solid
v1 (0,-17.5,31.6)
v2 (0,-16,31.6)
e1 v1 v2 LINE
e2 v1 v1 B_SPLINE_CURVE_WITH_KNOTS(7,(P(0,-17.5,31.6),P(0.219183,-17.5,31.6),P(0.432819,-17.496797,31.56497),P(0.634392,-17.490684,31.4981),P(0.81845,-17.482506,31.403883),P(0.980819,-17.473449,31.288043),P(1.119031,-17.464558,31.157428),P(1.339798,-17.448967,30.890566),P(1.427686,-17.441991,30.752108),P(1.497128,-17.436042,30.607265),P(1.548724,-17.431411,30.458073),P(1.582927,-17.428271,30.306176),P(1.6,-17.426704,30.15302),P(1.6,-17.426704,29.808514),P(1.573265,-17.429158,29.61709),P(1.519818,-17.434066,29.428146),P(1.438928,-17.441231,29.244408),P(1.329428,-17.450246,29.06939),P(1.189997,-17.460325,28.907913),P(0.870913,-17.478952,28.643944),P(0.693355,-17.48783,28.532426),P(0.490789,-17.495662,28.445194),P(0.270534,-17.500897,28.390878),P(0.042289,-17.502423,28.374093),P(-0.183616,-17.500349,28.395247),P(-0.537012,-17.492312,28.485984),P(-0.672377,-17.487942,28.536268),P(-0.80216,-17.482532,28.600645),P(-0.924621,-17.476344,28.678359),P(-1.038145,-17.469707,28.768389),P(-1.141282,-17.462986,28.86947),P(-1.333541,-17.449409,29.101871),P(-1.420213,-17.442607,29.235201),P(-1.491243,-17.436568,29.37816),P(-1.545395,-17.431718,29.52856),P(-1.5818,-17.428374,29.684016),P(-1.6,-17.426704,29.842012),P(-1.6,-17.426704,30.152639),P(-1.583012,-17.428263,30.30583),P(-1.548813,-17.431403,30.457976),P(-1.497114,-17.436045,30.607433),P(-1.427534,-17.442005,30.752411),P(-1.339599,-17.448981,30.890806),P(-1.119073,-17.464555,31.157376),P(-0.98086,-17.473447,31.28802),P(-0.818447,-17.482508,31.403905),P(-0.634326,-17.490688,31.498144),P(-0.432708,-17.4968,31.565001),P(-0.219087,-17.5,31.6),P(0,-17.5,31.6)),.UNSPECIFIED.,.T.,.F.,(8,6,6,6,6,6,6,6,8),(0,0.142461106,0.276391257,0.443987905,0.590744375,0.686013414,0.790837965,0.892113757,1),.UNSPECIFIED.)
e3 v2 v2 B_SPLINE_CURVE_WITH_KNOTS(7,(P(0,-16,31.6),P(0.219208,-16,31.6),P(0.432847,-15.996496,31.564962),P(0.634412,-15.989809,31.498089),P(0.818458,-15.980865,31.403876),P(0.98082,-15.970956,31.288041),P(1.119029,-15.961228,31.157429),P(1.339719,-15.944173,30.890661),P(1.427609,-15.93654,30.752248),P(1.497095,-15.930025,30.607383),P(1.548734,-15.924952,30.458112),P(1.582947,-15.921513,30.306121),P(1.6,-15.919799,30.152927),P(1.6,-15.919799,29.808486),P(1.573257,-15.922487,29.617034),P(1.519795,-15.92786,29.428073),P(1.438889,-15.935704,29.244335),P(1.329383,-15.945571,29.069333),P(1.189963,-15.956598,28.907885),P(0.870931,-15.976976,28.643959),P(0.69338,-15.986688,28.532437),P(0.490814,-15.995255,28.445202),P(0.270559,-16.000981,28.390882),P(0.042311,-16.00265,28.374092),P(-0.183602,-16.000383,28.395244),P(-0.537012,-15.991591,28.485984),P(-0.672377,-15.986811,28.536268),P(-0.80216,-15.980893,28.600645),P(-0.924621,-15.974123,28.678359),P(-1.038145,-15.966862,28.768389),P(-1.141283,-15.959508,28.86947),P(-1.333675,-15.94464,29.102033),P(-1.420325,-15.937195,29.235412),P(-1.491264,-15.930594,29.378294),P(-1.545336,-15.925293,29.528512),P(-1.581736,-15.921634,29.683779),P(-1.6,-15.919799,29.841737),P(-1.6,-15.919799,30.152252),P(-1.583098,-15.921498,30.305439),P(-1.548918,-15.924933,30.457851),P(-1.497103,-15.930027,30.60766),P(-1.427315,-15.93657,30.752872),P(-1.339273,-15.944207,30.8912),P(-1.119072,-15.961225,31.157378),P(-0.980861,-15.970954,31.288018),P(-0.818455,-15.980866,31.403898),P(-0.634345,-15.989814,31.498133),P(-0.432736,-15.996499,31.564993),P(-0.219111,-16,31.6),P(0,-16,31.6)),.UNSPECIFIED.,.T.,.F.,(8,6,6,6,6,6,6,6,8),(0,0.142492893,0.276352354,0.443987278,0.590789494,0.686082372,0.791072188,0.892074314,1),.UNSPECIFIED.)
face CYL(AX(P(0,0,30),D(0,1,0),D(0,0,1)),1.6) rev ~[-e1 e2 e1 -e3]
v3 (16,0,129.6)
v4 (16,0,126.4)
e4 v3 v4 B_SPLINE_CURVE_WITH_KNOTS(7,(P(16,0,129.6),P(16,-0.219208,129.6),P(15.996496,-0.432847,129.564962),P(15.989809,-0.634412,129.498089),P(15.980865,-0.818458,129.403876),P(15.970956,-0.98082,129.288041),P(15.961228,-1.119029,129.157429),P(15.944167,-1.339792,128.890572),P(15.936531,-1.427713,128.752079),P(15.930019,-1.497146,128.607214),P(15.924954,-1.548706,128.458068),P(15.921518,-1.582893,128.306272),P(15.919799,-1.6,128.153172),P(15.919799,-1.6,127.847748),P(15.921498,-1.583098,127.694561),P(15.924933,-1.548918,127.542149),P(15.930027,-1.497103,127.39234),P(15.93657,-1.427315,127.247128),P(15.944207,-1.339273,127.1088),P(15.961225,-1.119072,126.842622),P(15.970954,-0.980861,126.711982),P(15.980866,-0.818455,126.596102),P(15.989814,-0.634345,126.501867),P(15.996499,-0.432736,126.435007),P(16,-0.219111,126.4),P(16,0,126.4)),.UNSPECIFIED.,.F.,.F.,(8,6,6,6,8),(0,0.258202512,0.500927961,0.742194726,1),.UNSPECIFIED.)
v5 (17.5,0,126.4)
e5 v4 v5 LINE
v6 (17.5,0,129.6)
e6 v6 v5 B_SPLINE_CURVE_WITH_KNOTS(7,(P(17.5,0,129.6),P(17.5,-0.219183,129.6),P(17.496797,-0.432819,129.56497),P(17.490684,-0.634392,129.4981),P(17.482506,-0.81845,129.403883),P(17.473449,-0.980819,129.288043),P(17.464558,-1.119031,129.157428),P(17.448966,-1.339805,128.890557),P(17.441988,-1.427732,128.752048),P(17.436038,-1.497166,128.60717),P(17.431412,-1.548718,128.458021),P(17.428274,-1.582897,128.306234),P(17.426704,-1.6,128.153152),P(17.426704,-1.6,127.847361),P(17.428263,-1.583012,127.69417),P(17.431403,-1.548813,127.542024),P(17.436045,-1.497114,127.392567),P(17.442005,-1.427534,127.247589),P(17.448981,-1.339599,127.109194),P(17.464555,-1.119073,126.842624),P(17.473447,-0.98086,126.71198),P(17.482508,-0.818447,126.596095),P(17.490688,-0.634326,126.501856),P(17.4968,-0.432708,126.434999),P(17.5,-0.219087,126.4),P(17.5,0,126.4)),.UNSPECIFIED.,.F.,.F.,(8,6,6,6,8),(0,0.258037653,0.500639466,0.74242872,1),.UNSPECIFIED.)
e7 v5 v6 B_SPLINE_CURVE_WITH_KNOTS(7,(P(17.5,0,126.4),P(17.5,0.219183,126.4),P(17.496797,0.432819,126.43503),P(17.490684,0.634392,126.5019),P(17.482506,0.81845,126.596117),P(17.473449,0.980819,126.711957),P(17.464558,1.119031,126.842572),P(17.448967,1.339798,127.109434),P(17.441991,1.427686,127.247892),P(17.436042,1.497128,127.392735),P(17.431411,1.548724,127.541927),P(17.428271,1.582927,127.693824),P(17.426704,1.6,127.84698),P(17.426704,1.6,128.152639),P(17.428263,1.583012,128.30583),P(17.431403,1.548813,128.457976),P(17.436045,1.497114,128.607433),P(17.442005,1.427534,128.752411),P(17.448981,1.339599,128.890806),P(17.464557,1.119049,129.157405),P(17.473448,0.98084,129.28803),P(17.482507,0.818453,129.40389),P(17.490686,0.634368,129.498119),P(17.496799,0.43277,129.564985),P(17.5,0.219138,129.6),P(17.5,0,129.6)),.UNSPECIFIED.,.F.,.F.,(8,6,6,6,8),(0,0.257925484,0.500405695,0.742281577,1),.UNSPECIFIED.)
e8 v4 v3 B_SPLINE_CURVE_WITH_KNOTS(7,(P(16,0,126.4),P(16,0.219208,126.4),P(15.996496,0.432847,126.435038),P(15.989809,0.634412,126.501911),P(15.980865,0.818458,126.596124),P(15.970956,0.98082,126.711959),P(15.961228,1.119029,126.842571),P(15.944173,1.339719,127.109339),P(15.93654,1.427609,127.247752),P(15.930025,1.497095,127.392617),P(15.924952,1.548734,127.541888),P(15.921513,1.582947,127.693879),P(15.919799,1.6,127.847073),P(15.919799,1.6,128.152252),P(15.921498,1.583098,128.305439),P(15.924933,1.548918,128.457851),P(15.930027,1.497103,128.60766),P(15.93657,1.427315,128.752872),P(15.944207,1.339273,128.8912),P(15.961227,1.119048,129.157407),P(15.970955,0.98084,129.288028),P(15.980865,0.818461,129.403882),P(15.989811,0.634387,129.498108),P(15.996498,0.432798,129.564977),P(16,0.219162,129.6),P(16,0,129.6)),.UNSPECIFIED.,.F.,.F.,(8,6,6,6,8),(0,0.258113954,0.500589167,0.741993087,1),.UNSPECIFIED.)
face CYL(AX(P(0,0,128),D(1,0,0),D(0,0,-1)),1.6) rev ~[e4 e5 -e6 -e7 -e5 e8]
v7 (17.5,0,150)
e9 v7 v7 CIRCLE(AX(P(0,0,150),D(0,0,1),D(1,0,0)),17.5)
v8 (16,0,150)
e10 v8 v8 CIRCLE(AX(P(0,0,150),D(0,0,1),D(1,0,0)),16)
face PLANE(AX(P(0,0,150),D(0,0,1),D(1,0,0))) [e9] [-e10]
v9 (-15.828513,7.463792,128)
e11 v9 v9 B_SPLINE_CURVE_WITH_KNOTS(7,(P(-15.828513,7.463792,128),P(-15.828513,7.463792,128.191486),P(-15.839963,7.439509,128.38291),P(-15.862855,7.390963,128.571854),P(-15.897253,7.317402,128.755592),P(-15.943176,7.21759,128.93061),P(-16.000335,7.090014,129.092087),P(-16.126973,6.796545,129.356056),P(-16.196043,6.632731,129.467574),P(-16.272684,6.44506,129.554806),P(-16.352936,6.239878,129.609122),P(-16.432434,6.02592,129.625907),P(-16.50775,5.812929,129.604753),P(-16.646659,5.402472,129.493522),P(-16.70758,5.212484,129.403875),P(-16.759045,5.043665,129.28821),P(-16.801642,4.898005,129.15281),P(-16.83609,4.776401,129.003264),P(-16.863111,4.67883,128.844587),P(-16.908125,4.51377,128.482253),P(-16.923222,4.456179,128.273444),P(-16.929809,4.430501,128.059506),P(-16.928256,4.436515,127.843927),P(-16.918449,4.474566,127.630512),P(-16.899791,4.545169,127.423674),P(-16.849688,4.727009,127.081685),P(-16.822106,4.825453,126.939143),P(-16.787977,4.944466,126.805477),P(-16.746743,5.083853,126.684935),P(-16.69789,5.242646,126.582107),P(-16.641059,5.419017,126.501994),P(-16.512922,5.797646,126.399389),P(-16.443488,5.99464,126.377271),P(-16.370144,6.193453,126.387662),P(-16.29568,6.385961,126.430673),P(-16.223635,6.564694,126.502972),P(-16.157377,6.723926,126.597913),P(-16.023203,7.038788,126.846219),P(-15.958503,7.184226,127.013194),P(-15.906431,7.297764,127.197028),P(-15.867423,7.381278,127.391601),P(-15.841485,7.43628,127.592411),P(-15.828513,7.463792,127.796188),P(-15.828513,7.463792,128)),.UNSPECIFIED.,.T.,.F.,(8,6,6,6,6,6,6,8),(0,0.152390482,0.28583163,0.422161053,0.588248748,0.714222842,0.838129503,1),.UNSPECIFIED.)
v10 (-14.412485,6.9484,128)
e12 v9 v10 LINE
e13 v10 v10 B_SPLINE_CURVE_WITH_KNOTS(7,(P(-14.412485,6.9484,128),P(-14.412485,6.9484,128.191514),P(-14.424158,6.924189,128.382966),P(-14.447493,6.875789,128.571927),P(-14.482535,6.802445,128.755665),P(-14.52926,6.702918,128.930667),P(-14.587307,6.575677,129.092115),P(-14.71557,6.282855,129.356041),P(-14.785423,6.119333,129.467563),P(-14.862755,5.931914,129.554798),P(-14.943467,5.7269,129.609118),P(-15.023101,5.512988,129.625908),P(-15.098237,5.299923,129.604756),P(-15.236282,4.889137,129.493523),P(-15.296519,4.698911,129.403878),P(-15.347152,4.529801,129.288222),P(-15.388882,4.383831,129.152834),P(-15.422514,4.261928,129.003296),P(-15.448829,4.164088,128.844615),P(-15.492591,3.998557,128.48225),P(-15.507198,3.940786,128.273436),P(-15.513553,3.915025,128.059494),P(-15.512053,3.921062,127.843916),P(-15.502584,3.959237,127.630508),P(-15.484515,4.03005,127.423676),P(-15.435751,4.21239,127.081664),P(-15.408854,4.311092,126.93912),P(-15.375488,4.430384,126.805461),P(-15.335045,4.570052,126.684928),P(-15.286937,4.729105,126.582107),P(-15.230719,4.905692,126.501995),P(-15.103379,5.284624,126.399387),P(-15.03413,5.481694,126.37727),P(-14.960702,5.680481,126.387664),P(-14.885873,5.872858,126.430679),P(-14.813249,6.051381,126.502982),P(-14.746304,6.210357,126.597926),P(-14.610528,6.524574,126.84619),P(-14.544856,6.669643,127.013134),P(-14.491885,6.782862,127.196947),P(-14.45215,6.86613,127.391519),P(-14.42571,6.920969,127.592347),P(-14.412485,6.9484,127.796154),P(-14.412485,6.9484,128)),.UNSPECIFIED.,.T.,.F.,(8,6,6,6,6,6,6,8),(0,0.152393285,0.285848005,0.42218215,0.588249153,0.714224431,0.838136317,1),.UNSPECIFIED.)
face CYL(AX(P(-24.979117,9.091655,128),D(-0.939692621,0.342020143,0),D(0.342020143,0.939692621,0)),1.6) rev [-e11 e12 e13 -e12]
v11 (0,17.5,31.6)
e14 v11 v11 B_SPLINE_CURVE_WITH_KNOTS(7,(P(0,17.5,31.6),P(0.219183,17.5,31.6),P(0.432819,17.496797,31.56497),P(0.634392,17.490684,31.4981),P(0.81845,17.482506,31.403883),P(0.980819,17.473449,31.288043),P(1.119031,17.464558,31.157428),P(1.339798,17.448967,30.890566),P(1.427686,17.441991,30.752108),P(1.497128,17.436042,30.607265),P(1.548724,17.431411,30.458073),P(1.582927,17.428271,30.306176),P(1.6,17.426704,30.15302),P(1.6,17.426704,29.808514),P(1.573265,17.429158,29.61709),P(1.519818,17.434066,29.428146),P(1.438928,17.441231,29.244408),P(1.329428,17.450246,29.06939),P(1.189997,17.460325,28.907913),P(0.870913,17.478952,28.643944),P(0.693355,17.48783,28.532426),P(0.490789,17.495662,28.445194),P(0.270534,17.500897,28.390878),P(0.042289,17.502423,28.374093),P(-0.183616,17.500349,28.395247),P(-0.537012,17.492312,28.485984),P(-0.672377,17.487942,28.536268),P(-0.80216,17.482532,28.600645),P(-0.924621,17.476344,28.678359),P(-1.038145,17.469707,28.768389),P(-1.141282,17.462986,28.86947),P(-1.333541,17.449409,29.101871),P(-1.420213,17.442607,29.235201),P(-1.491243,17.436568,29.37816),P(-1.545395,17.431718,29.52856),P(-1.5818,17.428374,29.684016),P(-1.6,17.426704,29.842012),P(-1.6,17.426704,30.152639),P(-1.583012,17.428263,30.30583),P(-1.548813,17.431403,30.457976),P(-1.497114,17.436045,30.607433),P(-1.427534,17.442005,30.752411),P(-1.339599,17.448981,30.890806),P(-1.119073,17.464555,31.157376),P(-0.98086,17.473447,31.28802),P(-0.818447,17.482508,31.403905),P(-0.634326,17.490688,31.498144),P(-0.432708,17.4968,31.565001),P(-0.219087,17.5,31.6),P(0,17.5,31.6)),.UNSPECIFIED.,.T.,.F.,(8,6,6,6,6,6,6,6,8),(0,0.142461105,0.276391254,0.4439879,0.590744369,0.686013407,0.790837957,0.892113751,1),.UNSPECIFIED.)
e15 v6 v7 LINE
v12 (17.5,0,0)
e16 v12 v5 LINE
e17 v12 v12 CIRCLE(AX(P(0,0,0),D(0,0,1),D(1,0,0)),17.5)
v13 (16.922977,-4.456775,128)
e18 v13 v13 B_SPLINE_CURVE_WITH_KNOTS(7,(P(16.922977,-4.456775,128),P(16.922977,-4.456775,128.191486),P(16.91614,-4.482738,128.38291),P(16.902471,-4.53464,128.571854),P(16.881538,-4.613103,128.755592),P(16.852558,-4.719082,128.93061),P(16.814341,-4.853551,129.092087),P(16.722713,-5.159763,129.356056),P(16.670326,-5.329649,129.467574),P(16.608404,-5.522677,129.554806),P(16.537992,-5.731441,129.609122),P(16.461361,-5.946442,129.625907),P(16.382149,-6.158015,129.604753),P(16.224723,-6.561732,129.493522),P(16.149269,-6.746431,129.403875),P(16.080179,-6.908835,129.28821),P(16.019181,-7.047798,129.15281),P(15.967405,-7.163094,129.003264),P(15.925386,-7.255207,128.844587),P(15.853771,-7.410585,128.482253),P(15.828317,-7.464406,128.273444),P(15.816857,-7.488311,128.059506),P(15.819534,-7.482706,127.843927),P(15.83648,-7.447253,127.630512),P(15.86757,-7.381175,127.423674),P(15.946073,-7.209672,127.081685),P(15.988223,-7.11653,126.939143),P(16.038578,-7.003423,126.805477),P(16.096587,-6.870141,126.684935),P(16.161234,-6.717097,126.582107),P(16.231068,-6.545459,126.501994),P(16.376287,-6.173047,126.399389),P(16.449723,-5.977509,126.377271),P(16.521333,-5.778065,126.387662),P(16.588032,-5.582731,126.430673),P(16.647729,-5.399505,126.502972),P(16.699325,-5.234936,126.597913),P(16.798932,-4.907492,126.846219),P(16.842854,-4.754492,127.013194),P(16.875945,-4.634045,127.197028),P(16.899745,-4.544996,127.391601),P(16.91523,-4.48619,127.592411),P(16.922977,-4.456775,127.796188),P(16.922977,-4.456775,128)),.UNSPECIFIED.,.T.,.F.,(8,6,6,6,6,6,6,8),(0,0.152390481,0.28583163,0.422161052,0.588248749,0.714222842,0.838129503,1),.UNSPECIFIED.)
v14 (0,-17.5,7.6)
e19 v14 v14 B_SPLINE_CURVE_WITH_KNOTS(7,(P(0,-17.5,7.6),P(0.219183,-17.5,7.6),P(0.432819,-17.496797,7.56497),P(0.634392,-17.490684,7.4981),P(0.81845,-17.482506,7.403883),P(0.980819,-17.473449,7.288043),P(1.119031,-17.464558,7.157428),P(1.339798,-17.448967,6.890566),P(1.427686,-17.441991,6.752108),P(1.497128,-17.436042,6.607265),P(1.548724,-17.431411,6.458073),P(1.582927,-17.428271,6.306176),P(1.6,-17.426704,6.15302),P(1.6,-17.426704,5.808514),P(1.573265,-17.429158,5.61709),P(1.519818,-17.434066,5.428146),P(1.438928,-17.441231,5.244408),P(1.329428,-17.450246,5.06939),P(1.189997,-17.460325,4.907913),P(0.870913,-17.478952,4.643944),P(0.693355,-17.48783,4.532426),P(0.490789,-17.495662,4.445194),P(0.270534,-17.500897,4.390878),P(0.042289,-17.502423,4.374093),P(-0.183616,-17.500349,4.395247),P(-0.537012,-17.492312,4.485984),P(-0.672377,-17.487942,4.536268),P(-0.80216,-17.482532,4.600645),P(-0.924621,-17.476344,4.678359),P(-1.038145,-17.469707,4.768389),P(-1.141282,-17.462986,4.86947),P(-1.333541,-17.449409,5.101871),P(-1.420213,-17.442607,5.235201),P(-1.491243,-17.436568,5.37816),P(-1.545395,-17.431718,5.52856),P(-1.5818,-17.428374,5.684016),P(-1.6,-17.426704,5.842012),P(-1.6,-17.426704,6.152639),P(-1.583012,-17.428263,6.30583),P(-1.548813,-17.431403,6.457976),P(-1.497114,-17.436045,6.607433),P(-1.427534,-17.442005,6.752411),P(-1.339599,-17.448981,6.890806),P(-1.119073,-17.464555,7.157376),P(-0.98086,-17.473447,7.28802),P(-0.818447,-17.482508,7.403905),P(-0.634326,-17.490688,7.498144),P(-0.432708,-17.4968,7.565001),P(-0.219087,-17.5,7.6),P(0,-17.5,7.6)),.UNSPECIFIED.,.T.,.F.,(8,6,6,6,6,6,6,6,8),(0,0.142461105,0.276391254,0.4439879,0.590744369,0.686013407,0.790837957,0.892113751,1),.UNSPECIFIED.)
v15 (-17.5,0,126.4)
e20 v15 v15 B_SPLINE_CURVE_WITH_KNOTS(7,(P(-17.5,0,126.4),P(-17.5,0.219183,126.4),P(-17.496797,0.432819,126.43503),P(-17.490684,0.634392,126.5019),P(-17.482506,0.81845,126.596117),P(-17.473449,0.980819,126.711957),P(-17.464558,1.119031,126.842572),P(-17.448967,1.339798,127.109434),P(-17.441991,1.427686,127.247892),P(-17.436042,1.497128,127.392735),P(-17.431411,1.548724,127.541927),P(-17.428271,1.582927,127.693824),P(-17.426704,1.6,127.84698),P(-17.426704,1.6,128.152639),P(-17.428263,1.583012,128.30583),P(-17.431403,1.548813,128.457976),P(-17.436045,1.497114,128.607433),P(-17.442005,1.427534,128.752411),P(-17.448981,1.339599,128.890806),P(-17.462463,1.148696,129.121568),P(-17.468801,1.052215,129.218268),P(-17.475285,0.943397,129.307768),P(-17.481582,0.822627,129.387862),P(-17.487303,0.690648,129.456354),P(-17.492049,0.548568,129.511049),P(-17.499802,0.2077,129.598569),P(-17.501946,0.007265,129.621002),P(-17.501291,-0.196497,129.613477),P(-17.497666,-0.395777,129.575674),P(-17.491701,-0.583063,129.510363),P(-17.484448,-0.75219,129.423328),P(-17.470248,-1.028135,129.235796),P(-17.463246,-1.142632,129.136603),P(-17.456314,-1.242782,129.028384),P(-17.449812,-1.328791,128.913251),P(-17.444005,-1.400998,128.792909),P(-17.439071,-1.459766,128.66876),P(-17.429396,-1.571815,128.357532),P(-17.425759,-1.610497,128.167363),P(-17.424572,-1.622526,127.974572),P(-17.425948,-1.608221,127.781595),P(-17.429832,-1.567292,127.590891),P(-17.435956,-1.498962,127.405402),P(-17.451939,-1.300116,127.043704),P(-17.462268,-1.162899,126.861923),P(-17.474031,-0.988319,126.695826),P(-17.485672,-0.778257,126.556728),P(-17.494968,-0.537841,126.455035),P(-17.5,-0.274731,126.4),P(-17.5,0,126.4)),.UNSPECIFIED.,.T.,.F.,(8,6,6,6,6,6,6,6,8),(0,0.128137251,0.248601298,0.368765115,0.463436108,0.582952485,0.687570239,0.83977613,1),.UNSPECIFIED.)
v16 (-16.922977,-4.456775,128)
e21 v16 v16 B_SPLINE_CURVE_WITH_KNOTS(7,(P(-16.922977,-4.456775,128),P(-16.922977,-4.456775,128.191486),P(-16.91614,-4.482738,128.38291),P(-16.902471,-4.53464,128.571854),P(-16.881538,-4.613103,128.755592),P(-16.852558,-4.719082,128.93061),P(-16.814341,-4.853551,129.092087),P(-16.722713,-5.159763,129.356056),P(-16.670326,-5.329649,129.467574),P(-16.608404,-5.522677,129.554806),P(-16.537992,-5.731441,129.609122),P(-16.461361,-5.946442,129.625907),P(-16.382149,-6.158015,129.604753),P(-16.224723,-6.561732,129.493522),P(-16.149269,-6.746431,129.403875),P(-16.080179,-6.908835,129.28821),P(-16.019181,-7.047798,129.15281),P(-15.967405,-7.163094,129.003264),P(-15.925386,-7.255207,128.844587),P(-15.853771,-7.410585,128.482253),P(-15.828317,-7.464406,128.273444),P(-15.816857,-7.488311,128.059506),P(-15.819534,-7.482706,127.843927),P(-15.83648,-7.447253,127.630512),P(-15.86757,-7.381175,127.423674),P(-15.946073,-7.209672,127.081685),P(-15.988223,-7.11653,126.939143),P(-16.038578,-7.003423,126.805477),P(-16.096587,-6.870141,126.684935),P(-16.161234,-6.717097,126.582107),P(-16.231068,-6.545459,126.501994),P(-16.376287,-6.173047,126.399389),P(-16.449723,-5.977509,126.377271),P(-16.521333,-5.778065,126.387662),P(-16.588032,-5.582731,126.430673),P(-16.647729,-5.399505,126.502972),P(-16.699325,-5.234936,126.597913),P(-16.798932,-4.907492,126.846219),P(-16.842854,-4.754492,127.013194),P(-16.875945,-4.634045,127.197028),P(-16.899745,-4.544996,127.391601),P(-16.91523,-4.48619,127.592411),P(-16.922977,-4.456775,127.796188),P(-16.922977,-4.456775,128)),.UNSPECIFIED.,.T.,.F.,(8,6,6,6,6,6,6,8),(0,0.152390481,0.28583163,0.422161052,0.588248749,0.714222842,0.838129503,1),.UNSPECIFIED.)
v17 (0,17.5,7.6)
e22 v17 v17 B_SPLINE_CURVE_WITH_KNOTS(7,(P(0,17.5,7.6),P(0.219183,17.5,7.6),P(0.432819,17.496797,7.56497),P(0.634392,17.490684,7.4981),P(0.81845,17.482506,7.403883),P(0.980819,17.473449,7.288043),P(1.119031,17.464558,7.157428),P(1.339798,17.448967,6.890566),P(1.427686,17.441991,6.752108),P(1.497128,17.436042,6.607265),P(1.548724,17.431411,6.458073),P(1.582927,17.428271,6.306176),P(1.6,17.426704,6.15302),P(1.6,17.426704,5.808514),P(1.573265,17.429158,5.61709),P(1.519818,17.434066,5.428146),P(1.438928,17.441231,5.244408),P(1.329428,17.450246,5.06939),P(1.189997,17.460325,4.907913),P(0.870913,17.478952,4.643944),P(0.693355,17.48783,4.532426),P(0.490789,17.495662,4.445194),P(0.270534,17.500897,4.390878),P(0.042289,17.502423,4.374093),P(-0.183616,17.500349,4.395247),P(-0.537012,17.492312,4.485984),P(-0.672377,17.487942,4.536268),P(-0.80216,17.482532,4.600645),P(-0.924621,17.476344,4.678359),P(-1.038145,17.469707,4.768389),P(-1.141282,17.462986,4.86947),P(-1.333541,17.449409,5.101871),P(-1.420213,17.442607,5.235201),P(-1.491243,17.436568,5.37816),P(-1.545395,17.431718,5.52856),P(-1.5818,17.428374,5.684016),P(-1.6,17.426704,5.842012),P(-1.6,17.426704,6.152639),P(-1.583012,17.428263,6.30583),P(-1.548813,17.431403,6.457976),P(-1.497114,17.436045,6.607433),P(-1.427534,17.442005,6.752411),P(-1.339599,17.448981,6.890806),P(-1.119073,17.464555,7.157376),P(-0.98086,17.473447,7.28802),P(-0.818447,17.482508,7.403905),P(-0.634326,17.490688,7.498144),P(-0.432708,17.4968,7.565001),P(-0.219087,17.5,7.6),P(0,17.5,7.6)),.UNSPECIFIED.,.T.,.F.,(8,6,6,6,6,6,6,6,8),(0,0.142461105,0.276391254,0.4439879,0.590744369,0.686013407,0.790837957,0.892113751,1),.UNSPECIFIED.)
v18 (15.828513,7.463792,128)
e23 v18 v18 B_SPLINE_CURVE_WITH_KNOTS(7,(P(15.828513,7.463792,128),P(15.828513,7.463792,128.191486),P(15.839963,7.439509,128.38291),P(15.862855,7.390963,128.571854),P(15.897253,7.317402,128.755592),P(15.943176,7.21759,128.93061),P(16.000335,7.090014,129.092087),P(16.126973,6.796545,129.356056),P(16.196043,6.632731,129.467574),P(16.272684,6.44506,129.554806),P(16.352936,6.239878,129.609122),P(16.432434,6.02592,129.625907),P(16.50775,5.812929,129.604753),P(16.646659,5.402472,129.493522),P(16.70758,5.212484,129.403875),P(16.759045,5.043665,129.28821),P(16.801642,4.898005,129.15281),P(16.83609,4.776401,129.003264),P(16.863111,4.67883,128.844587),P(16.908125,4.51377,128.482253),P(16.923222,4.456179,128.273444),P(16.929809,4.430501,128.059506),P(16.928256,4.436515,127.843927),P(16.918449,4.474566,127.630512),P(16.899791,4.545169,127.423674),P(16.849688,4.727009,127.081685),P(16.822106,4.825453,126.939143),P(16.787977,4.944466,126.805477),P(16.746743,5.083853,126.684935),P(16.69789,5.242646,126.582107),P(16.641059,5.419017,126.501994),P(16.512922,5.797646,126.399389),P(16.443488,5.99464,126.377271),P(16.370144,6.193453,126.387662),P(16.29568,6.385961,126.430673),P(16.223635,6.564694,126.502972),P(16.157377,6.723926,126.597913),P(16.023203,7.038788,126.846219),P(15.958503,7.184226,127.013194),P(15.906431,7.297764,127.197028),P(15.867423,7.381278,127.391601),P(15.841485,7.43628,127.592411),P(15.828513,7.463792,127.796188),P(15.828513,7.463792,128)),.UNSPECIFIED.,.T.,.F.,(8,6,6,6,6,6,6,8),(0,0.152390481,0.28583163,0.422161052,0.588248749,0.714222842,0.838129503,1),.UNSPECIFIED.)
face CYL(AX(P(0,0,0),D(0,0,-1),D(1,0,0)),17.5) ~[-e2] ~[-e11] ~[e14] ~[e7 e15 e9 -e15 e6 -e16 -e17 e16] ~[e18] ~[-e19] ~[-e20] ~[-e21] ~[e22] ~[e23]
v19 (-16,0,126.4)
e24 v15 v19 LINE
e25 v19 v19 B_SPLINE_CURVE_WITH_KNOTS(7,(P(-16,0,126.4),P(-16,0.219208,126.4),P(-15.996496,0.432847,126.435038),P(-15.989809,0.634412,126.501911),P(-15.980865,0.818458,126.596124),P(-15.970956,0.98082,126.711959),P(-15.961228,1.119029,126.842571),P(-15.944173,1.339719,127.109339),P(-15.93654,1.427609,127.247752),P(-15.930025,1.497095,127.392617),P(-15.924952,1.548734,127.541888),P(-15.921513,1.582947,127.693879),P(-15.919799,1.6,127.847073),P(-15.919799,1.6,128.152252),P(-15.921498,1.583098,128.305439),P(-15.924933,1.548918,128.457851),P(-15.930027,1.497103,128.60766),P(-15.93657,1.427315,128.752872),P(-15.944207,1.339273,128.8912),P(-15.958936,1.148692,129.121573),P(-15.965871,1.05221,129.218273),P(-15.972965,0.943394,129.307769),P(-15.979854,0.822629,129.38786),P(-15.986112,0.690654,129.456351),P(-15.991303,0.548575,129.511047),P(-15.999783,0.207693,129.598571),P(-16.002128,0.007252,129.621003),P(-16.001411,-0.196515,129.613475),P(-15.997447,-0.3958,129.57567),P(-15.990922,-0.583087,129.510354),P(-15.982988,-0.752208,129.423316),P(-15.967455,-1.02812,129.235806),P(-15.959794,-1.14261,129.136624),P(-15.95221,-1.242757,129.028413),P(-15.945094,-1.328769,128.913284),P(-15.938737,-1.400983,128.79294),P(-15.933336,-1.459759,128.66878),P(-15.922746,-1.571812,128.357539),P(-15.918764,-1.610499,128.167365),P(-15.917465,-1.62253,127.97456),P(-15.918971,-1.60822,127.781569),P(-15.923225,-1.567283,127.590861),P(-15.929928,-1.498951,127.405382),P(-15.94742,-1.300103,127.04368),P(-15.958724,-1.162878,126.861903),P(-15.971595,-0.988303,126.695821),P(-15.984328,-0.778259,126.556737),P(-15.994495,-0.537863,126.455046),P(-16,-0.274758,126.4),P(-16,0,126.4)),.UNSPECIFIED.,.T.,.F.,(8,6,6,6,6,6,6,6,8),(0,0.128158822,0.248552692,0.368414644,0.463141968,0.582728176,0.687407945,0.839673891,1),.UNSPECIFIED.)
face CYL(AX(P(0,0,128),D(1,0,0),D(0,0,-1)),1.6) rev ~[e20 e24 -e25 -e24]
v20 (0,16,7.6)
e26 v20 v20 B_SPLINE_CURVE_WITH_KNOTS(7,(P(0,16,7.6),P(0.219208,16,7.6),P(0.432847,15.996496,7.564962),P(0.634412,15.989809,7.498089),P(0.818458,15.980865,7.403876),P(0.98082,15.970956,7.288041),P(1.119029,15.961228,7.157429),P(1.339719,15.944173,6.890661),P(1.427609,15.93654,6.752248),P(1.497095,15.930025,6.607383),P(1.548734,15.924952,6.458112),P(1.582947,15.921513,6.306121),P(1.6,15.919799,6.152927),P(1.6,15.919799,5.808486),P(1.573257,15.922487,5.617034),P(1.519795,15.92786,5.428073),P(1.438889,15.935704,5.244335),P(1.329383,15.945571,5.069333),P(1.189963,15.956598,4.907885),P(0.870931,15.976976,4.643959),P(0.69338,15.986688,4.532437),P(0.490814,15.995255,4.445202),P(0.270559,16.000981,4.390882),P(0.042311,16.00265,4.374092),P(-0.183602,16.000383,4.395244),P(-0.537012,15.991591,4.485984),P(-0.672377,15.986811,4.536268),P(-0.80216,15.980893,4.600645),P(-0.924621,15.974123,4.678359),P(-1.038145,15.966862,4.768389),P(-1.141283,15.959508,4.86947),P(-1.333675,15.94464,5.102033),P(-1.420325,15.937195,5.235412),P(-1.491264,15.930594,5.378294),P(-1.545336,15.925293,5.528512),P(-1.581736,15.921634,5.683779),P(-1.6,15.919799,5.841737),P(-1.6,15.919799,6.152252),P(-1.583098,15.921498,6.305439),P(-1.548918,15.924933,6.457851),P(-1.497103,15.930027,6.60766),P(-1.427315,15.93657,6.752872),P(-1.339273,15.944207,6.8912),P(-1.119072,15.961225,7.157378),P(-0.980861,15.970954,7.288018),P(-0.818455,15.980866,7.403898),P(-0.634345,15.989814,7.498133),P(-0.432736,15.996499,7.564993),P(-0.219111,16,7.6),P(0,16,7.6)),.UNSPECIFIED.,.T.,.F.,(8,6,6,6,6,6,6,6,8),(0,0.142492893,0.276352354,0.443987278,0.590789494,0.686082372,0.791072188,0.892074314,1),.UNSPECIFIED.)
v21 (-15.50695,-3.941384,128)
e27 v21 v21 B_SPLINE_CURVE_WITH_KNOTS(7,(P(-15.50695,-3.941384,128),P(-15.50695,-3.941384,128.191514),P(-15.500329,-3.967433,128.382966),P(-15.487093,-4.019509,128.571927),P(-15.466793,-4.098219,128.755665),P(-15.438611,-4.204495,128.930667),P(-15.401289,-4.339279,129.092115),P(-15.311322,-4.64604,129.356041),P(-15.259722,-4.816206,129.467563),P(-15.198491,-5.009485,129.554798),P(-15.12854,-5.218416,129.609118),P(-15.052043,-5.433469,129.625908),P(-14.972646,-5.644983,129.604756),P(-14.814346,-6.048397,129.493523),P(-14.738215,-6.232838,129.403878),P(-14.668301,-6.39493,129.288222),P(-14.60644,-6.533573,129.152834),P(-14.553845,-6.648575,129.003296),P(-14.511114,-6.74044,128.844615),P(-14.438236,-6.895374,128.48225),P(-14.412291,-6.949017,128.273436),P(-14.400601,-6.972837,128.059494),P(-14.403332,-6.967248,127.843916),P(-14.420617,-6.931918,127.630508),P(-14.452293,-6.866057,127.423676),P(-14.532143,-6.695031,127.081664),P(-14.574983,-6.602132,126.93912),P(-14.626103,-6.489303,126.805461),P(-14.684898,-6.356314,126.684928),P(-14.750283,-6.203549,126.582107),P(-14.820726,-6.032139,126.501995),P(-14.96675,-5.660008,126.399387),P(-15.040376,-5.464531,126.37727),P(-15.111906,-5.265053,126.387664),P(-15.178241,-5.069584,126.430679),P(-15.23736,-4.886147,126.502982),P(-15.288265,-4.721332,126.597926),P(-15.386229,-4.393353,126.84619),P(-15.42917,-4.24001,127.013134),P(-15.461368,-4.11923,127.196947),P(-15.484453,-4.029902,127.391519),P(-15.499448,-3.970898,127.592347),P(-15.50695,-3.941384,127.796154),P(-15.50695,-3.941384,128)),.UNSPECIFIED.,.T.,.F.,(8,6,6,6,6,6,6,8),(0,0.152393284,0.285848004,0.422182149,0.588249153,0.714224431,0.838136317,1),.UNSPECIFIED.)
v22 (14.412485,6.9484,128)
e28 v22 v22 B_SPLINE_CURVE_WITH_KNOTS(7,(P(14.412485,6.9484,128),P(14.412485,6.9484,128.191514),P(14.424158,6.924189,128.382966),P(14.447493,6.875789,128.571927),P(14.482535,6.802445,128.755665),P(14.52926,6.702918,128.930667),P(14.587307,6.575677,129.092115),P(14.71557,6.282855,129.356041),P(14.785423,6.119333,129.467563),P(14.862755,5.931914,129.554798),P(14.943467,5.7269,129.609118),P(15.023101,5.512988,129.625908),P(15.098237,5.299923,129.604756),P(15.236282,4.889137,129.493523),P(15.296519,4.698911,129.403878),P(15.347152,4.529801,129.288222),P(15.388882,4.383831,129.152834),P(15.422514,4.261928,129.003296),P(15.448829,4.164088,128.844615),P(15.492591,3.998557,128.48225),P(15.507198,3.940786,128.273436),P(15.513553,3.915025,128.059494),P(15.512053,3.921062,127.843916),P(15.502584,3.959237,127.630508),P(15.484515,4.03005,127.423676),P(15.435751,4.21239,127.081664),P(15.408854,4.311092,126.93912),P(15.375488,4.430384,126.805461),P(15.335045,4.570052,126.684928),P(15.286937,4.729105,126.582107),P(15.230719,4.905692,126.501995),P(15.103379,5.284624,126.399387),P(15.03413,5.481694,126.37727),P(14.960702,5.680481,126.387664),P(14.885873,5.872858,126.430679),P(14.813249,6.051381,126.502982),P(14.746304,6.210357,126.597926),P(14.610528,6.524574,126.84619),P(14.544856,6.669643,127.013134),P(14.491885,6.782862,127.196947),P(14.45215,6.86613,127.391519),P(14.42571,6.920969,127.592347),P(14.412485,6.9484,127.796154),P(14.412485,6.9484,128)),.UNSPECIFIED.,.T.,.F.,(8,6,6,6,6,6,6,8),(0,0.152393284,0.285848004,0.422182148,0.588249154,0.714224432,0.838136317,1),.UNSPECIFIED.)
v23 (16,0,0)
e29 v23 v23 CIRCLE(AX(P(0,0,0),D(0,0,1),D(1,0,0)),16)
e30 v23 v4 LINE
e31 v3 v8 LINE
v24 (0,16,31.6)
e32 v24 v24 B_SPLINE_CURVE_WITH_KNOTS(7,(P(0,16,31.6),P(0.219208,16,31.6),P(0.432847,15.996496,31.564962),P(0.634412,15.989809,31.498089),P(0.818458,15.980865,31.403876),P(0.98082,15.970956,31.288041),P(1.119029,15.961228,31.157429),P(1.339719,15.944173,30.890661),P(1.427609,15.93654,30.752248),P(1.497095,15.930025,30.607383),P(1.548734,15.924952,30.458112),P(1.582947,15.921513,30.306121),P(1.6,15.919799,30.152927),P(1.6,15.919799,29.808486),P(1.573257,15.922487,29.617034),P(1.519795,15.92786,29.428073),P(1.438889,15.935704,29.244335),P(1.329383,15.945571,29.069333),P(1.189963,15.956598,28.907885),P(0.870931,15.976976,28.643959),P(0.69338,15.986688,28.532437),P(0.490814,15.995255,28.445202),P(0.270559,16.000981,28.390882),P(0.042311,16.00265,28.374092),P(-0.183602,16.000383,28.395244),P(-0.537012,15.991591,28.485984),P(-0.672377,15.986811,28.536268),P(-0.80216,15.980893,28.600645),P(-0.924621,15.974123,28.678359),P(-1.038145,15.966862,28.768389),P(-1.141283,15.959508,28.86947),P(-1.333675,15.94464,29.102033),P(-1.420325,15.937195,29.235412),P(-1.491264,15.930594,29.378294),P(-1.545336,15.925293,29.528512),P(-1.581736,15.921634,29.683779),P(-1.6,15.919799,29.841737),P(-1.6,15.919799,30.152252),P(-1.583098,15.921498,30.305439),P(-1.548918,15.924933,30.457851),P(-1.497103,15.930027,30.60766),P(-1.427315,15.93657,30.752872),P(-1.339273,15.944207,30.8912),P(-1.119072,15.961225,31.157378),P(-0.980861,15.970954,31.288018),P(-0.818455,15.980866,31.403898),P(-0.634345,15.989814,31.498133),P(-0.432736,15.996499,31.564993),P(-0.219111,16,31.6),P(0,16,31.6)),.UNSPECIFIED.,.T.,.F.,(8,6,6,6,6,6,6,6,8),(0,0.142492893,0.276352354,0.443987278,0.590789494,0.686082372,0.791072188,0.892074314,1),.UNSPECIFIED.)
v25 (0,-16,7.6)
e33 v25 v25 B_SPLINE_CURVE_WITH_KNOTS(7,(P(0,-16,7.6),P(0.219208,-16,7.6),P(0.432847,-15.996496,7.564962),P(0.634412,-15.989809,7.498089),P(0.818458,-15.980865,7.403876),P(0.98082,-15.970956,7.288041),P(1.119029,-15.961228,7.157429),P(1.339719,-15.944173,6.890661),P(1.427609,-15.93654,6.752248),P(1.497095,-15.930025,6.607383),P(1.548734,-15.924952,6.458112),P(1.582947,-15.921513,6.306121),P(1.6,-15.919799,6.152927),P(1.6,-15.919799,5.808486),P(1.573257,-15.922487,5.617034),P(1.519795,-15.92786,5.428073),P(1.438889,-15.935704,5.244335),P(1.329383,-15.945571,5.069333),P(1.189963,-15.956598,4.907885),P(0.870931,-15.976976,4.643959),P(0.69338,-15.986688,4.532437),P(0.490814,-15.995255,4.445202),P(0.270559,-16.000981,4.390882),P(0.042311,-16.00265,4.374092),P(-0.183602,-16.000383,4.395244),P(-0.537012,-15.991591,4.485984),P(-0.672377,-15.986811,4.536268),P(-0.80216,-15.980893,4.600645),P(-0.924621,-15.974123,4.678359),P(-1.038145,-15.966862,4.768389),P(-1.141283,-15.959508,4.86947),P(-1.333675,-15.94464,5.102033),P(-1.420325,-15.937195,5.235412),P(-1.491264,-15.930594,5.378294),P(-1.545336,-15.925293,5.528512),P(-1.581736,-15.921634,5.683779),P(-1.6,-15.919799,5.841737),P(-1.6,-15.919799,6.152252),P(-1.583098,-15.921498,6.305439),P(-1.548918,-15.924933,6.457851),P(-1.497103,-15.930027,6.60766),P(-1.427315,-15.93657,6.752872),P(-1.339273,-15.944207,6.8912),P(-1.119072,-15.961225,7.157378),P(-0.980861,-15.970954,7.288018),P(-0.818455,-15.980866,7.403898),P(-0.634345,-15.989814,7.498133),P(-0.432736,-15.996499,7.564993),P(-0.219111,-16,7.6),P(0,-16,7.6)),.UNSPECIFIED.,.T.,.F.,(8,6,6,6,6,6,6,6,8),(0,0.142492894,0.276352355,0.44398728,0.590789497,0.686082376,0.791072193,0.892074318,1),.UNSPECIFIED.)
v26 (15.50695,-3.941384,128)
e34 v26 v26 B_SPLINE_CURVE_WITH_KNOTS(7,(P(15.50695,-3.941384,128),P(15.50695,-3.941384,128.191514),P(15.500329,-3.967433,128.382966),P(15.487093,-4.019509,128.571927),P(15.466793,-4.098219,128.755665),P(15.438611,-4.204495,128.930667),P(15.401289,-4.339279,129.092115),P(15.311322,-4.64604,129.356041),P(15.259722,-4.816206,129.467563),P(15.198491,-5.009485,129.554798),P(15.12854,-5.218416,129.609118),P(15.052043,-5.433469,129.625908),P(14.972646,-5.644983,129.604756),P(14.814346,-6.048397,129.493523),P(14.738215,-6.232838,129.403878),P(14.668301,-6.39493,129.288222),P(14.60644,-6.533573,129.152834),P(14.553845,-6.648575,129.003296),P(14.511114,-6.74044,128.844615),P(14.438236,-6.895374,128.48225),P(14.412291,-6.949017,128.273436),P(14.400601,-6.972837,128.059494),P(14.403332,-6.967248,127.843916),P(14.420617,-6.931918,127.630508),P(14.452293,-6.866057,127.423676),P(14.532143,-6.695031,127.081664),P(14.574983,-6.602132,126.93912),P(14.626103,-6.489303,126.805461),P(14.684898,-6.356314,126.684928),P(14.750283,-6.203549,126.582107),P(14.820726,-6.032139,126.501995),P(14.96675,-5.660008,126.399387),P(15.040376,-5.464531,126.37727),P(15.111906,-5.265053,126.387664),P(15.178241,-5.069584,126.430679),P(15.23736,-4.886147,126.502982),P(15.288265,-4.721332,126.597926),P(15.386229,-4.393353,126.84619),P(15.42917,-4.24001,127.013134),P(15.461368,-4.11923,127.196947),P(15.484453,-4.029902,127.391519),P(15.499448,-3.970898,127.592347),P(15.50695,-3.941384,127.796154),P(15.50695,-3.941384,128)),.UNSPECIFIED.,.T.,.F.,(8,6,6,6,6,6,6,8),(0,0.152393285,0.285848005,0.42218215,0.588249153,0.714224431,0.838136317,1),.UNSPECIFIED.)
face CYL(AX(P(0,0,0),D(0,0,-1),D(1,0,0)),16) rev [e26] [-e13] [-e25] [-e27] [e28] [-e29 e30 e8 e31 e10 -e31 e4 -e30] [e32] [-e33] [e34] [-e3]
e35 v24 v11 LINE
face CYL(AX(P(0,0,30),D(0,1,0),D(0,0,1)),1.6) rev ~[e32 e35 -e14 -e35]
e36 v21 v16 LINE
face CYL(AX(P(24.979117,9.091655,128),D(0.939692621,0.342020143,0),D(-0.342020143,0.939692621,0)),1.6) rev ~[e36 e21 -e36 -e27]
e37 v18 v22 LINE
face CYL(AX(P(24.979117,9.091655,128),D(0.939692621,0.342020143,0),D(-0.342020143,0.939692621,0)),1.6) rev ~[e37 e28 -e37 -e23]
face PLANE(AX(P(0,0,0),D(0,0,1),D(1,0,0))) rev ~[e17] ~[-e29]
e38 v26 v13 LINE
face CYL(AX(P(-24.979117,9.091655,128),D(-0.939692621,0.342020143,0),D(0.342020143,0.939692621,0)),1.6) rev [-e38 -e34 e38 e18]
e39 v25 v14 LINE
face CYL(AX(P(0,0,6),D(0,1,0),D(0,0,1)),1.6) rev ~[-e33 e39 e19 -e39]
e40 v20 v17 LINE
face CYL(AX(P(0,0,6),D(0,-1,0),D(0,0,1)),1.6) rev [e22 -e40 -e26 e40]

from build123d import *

# Parameters (mm, degrees)
SKETCH_1_R          = 17.5
SKETCH_1_R_2        = 16
EXTRUDE_1_DEPTH     = 150
SKETCH_2_R          = 1.6
CUT_EXTRUDE_1_DEPTH = 25
SKETCH_5_R          = 1.6
CUT_EXTRUDE_3_DEPTH = 138.461236575
SKETCH_6_R          = 1.6
CUT_EXTRUDE_4_DEPTH = 25


with BuildPart() as part:
    # 草图1 → 凸台-拉伸1 (new body)
    with BuildSketch(Plane.XY):
        Circle(SKETCH_1_R)
        Circle(SKETCH_1_R_2, mode=Mode.SUBTRACT)
    extrude(amount=EXTRUDE_1_DEPTH)

    # 草图2 → 切除-拉伸1 (cut, symmetric)
    with BuildSketch(Plane(origin=(0, 0, 0), x_dir=(1, 0, 0), z_dir=(0, 1, 0))):
        with Locations(Location((0, -6, 0), (0, 0, 270))):
            Circle(SKETCH_2_R)
        with Locations(Location((0, -30, 0), (0, 0, 270))):
            Circle(SKETCH_2_R)
    extrude(amount=CUT_EXTRUDE_1_DEPTH, both=True, mode=Mode.SUBTRACT)

    # 草图5 → 切除-拉伸3 (cut, through all)
    with BuildSketch(Plane(origin=(24.979117188, 9.091655135, 128), x_dir=(0.3420201433256663, -0.9396926207859093, 0), z_dir=(0.9396926207859093, 0.3420201433256663, 0))):
        with Locations(Location((0, 0, 0), (0, 0, 180))):
            Circle(SKETCH_5_R)
    cut_extrude_3 = extrude(amount=-CUT_EXTRUDE_3_DEPTH, mode=Mode.SUBTRACT)

    # 镜向1: 切除-拉伸3 across plane
    add(cut_extrude_3.mirror(Plane(origin=(0, 0, 0), x_dir=(0, 0, 1), z_dir=(1, 0, 0))), mode=Mode.SUBTRACT)

    # 草图6 → 切除-拉伸4 (cut, symmetric)
    with BuildSketch(Plane(origin=(0, 0, 0), x_dir=(0, 0, -1), z_dir=(1, 0, 0))):
        with Locations((-128, 0)):
            Circle(SKETCH_6_R)
    extrude(amount=CUT_EXTRUDE_4_DEPTH, both=True, mode=Mode.SUBTRACT)


solid = part.part
